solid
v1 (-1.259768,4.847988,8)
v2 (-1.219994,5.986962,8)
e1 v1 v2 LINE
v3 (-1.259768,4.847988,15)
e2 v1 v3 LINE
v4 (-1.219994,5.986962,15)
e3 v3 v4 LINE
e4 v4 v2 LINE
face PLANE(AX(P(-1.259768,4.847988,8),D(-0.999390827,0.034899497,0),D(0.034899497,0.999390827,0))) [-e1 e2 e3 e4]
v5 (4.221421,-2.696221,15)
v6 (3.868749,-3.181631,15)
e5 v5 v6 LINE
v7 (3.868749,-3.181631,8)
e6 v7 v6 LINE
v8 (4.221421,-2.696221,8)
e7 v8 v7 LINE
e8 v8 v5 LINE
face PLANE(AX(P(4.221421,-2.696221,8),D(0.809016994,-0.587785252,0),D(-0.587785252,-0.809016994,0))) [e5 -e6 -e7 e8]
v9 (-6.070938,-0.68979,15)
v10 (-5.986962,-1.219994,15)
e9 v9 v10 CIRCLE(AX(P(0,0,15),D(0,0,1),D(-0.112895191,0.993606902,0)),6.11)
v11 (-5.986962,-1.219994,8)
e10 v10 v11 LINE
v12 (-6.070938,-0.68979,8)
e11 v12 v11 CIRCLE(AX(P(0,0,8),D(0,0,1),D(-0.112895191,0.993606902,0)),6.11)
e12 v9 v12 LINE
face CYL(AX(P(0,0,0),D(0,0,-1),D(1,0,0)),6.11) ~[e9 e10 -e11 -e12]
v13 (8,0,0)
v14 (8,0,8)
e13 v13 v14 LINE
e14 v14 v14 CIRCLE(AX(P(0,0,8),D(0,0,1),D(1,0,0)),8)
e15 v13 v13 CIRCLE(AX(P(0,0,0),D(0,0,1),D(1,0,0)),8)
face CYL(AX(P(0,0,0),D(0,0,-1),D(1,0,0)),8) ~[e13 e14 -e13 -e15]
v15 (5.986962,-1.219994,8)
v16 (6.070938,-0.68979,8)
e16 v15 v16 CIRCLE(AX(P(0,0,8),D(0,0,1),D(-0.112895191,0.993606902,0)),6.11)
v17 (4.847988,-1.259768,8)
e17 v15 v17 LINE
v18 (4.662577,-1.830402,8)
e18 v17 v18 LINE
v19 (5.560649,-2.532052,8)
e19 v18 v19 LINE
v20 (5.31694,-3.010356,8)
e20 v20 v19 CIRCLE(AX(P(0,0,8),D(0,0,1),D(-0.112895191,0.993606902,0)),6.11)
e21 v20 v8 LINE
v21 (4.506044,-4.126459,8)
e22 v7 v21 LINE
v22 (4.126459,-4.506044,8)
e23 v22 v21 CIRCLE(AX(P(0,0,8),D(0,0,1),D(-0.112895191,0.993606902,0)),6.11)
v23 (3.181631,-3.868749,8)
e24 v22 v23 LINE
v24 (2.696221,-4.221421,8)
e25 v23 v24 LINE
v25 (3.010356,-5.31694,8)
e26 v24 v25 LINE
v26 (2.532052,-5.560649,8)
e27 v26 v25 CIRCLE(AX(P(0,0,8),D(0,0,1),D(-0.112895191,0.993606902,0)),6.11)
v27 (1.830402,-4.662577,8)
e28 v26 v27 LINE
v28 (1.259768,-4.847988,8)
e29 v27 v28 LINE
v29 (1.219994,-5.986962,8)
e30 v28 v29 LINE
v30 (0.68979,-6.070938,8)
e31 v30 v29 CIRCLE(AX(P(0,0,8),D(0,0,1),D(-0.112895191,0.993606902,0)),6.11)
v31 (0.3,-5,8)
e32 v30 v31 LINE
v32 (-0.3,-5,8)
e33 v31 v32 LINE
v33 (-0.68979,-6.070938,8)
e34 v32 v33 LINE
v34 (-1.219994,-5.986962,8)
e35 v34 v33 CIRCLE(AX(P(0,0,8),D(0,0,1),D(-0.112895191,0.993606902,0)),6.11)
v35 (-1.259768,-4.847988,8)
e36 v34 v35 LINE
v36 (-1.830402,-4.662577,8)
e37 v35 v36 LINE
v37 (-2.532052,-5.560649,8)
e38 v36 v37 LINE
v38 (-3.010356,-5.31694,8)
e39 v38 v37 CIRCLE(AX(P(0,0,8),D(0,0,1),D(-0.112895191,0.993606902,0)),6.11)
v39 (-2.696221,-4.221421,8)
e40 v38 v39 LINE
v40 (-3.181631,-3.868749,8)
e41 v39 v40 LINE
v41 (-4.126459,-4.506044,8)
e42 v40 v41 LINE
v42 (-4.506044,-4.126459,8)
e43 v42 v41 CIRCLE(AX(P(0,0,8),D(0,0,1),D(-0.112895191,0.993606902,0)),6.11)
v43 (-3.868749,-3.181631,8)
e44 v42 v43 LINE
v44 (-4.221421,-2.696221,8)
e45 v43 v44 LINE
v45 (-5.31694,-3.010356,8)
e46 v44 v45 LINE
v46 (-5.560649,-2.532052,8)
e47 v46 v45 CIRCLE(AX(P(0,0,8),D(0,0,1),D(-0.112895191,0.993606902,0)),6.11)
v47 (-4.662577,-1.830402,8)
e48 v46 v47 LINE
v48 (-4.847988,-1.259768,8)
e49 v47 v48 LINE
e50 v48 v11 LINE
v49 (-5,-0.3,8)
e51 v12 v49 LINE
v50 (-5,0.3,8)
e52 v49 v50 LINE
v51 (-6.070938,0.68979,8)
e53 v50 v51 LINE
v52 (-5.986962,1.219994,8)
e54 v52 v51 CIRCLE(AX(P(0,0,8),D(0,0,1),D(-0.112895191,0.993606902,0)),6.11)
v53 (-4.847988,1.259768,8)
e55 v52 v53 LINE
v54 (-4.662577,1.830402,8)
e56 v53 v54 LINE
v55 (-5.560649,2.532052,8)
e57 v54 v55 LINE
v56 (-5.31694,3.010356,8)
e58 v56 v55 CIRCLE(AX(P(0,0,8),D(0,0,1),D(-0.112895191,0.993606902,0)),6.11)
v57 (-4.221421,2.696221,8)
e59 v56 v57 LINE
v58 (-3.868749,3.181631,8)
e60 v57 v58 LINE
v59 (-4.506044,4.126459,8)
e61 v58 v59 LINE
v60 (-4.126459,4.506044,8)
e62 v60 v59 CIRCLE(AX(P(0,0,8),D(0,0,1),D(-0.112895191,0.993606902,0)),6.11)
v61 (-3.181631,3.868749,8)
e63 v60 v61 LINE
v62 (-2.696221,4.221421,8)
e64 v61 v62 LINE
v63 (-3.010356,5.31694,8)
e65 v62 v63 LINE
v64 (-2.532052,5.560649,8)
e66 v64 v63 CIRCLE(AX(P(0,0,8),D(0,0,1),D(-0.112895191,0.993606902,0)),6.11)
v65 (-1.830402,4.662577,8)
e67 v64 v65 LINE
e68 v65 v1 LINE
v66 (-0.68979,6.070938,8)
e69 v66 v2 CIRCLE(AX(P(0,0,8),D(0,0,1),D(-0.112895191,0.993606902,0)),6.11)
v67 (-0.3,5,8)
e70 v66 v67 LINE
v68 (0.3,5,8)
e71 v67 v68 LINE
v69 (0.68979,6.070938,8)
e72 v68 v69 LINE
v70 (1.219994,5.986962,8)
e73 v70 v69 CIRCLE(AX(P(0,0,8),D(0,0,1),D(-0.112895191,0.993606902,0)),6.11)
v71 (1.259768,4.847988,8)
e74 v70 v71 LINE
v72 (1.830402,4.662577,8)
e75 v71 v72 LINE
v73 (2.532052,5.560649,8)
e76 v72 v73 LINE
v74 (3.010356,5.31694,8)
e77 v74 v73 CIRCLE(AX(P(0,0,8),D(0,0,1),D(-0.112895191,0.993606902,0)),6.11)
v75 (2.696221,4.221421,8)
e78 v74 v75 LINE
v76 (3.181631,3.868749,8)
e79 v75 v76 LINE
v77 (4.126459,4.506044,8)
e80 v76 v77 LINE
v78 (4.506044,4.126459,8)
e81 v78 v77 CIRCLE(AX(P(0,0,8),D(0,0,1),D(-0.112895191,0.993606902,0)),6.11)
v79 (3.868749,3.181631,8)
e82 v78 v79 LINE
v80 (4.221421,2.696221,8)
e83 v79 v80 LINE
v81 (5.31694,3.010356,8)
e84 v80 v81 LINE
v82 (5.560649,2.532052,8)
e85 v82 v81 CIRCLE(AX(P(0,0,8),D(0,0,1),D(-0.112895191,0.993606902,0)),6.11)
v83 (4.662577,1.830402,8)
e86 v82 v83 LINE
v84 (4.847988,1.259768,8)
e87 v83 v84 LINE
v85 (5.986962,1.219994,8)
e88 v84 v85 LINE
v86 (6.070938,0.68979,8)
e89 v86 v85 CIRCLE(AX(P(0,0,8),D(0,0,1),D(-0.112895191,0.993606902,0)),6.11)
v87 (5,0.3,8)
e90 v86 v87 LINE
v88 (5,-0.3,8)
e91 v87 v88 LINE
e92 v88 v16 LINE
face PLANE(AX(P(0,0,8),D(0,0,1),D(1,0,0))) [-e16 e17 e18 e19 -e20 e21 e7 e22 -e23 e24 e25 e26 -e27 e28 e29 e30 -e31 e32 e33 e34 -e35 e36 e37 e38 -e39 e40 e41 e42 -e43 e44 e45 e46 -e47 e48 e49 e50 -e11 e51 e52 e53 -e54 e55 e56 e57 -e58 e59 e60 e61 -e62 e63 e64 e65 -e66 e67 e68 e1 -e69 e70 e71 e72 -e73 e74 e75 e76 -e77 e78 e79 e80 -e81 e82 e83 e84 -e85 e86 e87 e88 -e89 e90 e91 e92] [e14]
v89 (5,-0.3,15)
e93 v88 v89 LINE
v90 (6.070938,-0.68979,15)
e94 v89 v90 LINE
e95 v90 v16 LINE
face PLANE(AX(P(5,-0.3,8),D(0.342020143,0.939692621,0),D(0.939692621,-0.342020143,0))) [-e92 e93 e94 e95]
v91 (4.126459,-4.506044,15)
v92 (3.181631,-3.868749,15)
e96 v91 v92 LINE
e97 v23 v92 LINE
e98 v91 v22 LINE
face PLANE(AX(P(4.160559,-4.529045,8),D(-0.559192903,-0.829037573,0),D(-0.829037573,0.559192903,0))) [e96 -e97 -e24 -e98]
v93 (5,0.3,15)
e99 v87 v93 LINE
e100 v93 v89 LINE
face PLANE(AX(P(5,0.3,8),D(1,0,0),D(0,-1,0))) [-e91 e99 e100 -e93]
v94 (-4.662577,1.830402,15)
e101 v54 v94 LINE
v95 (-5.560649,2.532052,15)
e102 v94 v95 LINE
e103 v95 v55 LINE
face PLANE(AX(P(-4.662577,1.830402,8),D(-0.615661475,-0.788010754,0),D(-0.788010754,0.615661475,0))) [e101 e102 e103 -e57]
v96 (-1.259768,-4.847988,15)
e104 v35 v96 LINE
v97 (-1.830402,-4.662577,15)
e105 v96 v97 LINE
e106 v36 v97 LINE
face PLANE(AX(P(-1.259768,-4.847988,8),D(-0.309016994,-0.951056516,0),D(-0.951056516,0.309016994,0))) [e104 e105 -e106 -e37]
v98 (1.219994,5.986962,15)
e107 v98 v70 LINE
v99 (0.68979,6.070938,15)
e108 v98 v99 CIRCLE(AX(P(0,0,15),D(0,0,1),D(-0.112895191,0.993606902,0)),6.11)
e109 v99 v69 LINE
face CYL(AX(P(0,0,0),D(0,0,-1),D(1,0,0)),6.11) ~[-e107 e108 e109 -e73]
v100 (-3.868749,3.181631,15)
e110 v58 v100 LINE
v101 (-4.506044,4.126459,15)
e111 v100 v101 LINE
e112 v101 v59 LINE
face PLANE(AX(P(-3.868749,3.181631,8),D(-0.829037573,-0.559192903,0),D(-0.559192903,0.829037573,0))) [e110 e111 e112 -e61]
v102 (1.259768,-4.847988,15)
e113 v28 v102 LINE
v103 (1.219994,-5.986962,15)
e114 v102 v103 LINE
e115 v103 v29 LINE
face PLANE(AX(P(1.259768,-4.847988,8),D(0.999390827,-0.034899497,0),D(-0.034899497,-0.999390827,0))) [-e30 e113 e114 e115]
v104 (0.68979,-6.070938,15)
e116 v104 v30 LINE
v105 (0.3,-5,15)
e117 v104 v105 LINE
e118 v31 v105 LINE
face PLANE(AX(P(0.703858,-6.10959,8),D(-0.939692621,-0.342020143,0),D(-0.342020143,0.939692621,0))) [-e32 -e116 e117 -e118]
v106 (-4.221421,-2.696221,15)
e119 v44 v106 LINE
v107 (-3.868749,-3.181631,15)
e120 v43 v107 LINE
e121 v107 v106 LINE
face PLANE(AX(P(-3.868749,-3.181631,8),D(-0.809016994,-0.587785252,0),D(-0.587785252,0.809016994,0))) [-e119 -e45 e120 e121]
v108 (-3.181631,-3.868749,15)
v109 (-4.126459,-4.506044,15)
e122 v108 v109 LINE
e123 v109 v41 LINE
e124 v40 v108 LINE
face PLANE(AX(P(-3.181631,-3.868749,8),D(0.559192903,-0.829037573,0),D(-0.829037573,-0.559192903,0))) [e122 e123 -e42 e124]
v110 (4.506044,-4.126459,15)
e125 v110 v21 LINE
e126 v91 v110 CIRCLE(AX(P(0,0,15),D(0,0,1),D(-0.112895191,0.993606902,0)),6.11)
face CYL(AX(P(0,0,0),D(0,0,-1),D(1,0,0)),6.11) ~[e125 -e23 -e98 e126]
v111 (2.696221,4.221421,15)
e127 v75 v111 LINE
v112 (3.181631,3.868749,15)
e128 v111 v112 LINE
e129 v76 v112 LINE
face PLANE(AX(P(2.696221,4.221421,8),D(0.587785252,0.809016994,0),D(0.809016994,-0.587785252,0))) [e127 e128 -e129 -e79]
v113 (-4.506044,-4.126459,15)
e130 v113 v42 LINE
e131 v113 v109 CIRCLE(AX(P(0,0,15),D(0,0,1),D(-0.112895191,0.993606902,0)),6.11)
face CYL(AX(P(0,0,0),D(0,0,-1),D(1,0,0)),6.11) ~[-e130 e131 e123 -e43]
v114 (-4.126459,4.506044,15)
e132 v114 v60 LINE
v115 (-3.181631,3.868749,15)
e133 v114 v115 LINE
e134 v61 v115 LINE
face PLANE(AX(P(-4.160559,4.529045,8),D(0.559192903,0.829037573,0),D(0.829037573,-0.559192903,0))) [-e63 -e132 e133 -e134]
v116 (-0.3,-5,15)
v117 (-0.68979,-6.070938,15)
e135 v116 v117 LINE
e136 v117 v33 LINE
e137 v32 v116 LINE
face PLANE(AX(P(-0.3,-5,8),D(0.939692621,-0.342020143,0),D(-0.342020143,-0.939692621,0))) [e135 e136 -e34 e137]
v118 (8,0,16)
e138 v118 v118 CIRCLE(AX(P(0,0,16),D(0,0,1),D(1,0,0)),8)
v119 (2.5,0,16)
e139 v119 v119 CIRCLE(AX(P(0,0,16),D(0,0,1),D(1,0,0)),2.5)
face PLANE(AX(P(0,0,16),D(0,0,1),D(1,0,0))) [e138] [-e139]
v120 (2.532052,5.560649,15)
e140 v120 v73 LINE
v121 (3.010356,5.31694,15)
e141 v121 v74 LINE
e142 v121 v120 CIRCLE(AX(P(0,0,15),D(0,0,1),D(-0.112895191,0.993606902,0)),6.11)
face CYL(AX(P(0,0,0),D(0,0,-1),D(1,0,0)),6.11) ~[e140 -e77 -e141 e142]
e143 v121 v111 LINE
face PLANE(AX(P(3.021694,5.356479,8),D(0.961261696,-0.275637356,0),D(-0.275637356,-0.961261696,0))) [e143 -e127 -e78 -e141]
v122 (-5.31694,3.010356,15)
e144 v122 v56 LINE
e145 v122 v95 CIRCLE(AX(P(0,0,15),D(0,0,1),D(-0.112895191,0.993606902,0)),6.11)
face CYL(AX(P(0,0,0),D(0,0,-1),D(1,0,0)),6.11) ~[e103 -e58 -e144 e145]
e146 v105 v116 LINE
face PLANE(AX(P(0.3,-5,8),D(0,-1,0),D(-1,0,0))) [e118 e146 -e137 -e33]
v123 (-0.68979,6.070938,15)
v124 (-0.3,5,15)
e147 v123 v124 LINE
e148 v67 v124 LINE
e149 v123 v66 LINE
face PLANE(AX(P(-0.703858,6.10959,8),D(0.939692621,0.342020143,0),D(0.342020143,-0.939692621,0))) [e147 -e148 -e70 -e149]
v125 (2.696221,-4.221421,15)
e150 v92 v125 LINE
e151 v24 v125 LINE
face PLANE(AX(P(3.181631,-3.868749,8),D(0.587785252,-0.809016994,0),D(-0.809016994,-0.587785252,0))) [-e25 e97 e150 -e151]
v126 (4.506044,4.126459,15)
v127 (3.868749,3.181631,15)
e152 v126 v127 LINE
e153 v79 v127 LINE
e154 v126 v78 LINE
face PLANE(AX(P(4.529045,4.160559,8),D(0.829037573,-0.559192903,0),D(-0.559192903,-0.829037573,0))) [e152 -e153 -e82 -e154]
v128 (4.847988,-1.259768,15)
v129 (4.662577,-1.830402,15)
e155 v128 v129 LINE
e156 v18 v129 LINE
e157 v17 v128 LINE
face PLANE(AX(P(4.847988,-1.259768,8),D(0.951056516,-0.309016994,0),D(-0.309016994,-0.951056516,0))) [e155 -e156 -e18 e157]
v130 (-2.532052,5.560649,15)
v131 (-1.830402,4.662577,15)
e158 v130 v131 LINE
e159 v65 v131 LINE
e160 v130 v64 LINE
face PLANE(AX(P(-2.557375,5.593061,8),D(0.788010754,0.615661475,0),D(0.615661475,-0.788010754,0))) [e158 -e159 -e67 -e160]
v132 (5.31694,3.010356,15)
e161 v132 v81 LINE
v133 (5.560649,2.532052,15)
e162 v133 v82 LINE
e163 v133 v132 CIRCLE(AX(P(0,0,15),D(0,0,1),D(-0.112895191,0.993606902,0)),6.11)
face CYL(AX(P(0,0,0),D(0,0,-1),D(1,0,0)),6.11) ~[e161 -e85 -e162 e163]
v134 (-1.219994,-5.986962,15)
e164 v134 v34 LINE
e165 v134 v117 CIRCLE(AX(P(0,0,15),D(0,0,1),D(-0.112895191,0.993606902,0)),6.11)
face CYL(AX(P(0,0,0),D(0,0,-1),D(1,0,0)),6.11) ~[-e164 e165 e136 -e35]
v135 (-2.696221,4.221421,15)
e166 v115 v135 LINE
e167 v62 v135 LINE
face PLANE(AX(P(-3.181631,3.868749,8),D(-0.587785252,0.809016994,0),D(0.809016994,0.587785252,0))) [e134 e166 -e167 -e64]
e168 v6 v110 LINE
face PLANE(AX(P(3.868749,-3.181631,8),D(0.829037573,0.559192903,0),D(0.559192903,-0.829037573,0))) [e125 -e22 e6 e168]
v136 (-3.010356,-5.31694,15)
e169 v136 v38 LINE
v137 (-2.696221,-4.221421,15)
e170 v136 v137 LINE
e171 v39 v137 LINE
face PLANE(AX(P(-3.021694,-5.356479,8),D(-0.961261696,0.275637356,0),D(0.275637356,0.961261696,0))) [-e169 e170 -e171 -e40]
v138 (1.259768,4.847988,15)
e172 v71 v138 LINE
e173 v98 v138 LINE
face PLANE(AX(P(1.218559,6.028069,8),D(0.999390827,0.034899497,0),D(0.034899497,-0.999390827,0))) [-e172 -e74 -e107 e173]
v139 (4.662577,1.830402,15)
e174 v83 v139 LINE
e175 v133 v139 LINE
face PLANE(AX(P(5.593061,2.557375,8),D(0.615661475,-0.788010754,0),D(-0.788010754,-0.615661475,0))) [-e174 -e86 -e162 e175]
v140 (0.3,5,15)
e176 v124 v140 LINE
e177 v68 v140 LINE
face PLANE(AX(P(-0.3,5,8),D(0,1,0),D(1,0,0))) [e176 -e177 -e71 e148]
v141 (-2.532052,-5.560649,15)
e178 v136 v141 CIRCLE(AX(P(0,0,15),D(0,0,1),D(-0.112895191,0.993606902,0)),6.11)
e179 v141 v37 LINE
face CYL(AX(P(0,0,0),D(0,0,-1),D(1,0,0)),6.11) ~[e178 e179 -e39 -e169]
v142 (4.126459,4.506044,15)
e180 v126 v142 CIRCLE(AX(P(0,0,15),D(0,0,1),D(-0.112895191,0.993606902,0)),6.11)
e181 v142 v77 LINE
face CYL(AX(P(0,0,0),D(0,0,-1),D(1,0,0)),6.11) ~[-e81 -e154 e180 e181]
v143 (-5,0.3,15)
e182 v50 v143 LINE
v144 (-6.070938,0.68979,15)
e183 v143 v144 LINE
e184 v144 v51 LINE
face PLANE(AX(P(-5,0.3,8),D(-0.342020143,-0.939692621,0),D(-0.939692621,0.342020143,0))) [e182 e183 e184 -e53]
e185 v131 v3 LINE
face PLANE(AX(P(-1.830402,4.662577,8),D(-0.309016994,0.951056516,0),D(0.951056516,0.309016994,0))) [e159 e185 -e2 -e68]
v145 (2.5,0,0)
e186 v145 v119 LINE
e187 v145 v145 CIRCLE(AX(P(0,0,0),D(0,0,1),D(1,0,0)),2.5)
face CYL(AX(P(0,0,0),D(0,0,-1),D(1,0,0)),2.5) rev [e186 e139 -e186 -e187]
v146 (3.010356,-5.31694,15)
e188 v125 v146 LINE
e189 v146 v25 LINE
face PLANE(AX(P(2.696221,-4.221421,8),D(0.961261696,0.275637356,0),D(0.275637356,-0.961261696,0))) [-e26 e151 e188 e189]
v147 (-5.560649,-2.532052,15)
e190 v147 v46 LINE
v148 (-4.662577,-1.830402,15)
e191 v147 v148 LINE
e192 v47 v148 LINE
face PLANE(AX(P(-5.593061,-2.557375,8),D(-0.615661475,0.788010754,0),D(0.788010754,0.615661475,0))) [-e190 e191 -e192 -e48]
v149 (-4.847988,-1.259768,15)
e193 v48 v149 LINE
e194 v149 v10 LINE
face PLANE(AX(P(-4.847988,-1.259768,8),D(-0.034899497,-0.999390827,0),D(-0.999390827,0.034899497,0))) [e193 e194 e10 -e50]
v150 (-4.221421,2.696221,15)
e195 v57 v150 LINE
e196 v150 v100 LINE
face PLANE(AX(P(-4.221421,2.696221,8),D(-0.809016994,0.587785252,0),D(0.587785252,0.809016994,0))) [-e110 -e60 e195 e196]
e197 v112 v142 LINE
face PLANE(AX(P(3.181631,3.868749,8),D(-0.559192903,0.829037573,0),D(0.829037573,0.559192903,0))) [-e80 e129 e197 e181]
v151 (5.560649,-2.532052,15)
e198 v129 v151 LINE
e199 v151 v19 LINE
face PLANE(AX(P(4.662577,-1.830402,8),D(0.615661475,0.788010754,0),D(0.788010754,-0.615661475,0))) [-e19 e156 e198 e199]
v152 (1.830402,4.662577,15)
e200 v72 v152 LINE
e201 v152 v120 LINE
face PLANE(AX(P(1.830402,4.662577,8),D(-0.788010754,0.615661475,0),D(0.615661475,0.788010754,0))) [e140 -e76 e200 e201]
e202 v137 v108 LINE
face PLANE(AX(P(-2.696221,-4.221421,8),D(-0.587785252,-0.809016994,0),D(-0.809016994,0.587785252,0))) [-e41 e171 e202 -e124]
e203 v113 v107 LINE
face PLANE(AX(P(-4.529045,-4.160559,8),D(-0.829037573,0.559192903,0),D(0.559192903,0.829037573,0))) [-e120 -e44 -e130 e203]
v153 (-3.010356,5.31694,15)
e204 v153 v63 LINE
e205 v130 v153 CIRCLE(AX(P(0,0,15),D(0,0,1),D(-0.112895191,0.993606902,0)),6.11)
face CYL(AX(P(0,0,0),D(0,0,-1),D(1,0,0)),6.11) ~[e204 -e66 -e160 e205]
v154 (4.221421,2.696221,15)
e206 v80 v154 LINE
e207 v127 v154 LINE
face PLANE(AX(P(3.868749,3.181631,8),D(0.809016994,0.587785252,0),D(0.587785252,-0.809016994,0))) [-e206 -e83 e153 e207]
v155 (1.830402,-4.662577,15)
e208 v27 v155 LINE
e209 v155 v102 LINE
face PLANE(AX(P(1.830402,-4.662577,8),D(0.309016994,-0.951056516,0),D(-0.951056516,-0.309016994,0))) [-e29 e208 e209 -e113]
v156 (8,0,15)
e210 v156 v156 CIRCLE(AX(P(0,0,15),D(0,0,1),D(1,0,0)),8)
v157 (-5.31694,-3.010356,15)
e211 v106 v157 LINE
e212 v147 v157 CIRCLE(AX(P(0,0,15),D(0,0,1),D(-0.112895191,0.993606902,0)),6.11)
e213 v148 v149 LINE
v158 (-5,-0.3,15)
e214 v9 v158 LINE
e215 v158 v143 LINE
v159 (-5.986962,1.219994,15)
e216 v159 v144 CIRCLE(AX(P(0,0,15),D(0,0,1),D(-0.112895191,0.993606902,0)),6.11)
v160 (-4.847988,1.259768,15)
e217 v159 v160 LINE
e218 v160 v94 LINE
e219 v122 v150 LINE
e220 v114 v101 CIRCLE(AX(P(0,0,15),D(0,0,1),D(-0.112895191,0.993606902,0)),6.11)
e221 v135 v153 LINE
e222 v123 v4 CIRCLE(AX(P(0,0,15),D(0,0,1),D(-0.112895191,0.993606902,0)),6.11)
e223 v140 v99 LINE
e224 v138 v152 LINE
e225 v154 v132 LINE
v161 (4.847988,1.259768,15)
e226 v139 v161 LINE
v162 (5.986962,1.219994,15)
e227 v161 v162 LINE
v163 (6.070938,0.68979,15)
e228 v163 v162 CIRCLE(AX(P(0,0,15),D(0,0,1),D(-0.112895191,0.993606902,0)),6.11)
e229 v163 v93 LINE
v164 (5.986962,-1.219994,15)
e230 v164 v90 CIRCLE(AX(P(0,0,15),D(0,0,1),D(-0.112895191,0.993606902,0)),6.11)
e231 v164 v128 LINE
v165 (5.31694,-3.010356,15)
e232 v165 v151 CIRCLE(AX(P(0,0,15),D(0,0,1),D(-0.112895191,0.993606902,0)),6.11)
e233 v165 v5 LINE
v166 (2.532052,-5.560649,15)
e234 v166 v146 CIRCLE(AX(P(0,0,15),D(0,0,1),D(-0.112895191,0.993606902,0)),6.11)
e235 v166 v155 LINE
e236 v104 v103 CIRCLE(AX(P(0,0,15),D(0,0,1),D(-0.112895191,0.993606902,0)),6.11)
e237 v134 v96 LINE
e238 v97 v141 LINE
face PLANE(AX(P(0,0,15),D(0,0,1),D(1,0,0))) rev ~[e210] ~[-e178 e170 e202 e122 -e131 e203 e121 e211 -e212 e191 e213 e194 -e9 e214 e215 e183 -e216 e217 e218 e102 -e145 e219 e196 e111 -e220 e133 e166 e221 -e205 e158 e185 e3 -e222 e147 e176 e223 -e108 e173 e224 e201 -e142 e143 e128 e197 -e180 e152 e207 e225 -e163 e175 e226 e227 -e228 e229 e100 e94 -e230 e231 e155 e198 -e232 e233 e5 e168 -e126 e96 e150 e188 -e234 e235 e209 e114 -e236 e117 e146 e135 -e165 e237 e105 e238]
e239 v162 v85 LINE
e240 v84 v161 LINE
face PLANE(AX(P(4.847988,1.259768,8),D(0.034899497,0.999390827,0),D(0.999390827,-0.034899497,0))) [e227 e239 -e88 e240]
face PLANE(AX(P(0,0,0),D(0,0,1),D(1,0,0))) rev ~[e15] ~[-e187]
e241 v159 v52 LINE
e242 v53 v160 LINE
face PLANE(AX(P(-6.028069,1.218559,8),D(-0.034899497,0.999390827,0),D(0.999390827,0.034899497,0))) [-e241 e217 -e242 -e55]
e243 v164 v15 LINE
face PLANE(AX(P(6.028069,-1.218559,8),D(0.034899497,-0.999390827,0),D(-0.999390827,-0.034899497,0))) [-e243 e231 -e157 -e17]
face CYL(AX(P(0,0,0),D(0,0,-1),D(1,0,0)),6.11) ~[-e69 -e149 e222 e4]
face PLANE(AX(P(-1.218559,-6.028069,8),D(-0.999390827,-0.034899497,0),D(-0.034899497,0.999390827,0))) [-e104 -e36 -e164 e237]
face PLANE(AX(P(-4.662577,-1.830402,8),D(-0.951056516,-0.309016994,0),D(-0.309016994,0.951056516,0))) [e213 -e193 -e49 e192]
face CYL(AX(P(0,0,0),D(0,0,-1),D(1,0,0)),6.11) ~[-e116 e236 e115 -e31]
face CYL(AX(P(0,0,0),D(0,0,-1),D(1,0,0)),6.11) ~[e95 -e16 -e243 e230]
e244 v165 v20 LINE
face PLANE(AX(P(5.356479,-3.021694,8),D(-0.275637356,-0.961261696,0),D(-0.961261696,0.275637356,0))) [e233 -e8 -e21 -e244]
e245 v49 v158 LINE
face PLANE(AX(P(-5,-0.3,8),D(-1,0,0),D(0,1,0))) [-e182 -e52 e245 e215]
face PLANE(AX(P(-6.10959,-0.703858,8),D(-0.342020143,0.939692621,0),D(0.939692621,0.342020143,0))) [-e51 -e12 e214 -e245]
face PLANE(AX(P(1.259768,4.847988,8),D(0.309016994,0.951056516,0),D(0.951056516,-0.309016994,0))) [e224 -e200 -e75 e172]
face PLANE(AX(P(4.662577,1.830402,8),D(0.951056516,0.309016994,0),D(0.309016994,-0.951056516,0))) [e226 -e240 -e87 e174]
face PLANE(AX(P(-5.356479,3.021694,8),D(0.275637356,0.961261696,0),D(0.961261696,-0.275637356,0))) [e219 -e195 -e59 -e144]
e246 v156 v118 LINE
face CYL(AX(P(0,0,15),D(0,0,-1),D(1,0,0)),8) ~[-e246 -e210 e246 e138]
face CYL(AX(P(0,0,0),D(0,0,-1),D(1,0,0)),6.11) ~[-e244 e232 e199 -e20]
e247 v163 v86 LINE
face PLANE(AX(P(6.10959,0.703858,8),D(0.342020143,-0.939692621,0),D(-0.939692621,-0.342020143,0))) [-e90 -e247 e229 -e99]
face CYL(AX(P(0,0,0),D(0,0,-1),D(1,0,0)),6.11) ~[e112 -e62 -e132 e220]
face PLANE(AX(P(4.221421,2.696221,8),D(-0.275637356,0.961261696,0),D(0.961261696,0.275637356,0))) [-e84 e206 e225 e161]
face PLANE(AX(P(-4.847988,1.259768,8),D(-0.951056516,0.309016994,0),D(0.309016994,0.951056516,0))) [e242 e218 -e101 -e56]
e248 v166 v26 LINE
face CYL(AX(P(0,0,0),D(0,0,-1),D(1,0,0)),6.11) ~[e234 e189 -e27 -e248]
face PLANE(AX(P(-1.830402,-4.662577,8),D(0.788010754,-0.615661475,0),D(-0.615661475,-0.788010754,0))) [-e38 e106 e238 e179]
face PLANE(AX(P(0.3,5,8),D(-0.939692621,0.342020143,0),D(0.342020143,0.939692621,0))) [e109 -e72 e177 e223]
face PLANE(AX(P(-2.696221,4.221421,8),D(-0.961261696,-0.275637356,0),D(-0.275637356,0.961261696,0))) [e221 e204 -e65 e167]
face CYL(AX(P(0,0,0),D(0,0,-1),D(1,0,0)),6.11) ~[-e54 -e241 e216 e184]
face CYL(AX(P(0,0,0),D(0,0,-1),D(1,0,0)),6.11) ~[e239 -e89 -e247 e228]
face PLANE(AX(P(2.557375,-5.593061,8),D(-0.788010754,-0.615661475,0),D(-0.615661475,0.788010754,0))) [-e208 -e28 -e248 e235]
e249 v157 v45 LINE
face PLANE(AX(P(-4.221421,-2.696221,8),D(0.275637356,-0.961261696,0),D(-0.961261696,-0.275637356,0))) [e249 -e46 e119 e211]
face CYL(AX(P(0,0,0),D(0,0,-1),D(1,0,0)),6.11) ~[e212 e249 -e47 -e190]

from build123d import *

# Parameters (mm, degrees)
SKETCH_1_R               = 6.11
SKETCH_1_R_2             = 2.5
EXTRUDE_1_DEPTH          = 16
SKETCH_1_3_R             = 8
SKETCH_1_3_R_2           = 6.11
EXTRUDE_2_DEPTH          = 8
EXTRUDE_START            = -1
SKETCH_2_R               = 8
SKETCH_2_R_2             = 6.11
EXTRUDE_3_DEPTH          = 1
CUT_EXTRUDE_5_DEPTH      = 7
PATTERN_CIRCULAR_1_COUNT = 20


with BuildPart() as part:
    # Эскиз1 → Бобышка-Вытянуть1 (new body)
    with BuildSketch(Plane.XY):
        Circle(SKETCH_1_R)
        Circle(SKETCH_1_R_2, mode=Mode.SUBTRACT)
    extrude(amount=EXTRUDE_1_DEPTH)

    # Эскиз1<3> → Бобышка-Вытянуть2 (add)
    with BuildSketch(Plane.XY):
        Circle(SKETCH_1_3_R)
        Circle(SKETCH_1_3_R_2, mode=Mode.SUBTRACT)
    extrude(amount=EXTRUDE_2_DEPTH)

    # Эскиз2 → Бобышка-Вытянуть3 (add)
    with BuildSketch(Plane.XY.offset(16).offset(EXTRUDE_START)):
        Circle(SKETCH_2_R)
        Circle(SKETCH_2_R_2, mode=Mode.SUBTRACT)
    extrude(amount=EXTRUDE_3_DEPTH)

    # Эскиз3 → Вырез-Вытянуть5 (cut)
    with BuildSketch(Plane.XY.offset(8)):
        with BuildLine():
            Line((-0.3, 5), (0.3, 5))
            Line((0.3, 5), (0.70385757, 6.109589554))
            ThreePointArc((0.70385757, 6.109589554), (0, 6.15), (-0.70385757, 6.109589554))
            Line((-0.70385757, 6.109589554), (-0.3, 5))
        make_face()
    cut_extrude_5 = extrude(amount=CUT_EXTRUDE_5_DEPTH, mode=Mode.SUBTRACT)

    # Круговой массив1: Вырез-Вытянуть5 ×20 about axis
    pattern_circular_1_axis = Axis((0, 0, 0), (0, 0, 1))
    for i in range(1, PATTERN_CIRCULAR_1_COUNT):
        add(cut_extrude_5.rotate(pattern_circular_1_axis, i * 360 / PATTERN_CIRCULAR_1_COUNT), mode=Mode.SUBTRACT)


solid = part.part
